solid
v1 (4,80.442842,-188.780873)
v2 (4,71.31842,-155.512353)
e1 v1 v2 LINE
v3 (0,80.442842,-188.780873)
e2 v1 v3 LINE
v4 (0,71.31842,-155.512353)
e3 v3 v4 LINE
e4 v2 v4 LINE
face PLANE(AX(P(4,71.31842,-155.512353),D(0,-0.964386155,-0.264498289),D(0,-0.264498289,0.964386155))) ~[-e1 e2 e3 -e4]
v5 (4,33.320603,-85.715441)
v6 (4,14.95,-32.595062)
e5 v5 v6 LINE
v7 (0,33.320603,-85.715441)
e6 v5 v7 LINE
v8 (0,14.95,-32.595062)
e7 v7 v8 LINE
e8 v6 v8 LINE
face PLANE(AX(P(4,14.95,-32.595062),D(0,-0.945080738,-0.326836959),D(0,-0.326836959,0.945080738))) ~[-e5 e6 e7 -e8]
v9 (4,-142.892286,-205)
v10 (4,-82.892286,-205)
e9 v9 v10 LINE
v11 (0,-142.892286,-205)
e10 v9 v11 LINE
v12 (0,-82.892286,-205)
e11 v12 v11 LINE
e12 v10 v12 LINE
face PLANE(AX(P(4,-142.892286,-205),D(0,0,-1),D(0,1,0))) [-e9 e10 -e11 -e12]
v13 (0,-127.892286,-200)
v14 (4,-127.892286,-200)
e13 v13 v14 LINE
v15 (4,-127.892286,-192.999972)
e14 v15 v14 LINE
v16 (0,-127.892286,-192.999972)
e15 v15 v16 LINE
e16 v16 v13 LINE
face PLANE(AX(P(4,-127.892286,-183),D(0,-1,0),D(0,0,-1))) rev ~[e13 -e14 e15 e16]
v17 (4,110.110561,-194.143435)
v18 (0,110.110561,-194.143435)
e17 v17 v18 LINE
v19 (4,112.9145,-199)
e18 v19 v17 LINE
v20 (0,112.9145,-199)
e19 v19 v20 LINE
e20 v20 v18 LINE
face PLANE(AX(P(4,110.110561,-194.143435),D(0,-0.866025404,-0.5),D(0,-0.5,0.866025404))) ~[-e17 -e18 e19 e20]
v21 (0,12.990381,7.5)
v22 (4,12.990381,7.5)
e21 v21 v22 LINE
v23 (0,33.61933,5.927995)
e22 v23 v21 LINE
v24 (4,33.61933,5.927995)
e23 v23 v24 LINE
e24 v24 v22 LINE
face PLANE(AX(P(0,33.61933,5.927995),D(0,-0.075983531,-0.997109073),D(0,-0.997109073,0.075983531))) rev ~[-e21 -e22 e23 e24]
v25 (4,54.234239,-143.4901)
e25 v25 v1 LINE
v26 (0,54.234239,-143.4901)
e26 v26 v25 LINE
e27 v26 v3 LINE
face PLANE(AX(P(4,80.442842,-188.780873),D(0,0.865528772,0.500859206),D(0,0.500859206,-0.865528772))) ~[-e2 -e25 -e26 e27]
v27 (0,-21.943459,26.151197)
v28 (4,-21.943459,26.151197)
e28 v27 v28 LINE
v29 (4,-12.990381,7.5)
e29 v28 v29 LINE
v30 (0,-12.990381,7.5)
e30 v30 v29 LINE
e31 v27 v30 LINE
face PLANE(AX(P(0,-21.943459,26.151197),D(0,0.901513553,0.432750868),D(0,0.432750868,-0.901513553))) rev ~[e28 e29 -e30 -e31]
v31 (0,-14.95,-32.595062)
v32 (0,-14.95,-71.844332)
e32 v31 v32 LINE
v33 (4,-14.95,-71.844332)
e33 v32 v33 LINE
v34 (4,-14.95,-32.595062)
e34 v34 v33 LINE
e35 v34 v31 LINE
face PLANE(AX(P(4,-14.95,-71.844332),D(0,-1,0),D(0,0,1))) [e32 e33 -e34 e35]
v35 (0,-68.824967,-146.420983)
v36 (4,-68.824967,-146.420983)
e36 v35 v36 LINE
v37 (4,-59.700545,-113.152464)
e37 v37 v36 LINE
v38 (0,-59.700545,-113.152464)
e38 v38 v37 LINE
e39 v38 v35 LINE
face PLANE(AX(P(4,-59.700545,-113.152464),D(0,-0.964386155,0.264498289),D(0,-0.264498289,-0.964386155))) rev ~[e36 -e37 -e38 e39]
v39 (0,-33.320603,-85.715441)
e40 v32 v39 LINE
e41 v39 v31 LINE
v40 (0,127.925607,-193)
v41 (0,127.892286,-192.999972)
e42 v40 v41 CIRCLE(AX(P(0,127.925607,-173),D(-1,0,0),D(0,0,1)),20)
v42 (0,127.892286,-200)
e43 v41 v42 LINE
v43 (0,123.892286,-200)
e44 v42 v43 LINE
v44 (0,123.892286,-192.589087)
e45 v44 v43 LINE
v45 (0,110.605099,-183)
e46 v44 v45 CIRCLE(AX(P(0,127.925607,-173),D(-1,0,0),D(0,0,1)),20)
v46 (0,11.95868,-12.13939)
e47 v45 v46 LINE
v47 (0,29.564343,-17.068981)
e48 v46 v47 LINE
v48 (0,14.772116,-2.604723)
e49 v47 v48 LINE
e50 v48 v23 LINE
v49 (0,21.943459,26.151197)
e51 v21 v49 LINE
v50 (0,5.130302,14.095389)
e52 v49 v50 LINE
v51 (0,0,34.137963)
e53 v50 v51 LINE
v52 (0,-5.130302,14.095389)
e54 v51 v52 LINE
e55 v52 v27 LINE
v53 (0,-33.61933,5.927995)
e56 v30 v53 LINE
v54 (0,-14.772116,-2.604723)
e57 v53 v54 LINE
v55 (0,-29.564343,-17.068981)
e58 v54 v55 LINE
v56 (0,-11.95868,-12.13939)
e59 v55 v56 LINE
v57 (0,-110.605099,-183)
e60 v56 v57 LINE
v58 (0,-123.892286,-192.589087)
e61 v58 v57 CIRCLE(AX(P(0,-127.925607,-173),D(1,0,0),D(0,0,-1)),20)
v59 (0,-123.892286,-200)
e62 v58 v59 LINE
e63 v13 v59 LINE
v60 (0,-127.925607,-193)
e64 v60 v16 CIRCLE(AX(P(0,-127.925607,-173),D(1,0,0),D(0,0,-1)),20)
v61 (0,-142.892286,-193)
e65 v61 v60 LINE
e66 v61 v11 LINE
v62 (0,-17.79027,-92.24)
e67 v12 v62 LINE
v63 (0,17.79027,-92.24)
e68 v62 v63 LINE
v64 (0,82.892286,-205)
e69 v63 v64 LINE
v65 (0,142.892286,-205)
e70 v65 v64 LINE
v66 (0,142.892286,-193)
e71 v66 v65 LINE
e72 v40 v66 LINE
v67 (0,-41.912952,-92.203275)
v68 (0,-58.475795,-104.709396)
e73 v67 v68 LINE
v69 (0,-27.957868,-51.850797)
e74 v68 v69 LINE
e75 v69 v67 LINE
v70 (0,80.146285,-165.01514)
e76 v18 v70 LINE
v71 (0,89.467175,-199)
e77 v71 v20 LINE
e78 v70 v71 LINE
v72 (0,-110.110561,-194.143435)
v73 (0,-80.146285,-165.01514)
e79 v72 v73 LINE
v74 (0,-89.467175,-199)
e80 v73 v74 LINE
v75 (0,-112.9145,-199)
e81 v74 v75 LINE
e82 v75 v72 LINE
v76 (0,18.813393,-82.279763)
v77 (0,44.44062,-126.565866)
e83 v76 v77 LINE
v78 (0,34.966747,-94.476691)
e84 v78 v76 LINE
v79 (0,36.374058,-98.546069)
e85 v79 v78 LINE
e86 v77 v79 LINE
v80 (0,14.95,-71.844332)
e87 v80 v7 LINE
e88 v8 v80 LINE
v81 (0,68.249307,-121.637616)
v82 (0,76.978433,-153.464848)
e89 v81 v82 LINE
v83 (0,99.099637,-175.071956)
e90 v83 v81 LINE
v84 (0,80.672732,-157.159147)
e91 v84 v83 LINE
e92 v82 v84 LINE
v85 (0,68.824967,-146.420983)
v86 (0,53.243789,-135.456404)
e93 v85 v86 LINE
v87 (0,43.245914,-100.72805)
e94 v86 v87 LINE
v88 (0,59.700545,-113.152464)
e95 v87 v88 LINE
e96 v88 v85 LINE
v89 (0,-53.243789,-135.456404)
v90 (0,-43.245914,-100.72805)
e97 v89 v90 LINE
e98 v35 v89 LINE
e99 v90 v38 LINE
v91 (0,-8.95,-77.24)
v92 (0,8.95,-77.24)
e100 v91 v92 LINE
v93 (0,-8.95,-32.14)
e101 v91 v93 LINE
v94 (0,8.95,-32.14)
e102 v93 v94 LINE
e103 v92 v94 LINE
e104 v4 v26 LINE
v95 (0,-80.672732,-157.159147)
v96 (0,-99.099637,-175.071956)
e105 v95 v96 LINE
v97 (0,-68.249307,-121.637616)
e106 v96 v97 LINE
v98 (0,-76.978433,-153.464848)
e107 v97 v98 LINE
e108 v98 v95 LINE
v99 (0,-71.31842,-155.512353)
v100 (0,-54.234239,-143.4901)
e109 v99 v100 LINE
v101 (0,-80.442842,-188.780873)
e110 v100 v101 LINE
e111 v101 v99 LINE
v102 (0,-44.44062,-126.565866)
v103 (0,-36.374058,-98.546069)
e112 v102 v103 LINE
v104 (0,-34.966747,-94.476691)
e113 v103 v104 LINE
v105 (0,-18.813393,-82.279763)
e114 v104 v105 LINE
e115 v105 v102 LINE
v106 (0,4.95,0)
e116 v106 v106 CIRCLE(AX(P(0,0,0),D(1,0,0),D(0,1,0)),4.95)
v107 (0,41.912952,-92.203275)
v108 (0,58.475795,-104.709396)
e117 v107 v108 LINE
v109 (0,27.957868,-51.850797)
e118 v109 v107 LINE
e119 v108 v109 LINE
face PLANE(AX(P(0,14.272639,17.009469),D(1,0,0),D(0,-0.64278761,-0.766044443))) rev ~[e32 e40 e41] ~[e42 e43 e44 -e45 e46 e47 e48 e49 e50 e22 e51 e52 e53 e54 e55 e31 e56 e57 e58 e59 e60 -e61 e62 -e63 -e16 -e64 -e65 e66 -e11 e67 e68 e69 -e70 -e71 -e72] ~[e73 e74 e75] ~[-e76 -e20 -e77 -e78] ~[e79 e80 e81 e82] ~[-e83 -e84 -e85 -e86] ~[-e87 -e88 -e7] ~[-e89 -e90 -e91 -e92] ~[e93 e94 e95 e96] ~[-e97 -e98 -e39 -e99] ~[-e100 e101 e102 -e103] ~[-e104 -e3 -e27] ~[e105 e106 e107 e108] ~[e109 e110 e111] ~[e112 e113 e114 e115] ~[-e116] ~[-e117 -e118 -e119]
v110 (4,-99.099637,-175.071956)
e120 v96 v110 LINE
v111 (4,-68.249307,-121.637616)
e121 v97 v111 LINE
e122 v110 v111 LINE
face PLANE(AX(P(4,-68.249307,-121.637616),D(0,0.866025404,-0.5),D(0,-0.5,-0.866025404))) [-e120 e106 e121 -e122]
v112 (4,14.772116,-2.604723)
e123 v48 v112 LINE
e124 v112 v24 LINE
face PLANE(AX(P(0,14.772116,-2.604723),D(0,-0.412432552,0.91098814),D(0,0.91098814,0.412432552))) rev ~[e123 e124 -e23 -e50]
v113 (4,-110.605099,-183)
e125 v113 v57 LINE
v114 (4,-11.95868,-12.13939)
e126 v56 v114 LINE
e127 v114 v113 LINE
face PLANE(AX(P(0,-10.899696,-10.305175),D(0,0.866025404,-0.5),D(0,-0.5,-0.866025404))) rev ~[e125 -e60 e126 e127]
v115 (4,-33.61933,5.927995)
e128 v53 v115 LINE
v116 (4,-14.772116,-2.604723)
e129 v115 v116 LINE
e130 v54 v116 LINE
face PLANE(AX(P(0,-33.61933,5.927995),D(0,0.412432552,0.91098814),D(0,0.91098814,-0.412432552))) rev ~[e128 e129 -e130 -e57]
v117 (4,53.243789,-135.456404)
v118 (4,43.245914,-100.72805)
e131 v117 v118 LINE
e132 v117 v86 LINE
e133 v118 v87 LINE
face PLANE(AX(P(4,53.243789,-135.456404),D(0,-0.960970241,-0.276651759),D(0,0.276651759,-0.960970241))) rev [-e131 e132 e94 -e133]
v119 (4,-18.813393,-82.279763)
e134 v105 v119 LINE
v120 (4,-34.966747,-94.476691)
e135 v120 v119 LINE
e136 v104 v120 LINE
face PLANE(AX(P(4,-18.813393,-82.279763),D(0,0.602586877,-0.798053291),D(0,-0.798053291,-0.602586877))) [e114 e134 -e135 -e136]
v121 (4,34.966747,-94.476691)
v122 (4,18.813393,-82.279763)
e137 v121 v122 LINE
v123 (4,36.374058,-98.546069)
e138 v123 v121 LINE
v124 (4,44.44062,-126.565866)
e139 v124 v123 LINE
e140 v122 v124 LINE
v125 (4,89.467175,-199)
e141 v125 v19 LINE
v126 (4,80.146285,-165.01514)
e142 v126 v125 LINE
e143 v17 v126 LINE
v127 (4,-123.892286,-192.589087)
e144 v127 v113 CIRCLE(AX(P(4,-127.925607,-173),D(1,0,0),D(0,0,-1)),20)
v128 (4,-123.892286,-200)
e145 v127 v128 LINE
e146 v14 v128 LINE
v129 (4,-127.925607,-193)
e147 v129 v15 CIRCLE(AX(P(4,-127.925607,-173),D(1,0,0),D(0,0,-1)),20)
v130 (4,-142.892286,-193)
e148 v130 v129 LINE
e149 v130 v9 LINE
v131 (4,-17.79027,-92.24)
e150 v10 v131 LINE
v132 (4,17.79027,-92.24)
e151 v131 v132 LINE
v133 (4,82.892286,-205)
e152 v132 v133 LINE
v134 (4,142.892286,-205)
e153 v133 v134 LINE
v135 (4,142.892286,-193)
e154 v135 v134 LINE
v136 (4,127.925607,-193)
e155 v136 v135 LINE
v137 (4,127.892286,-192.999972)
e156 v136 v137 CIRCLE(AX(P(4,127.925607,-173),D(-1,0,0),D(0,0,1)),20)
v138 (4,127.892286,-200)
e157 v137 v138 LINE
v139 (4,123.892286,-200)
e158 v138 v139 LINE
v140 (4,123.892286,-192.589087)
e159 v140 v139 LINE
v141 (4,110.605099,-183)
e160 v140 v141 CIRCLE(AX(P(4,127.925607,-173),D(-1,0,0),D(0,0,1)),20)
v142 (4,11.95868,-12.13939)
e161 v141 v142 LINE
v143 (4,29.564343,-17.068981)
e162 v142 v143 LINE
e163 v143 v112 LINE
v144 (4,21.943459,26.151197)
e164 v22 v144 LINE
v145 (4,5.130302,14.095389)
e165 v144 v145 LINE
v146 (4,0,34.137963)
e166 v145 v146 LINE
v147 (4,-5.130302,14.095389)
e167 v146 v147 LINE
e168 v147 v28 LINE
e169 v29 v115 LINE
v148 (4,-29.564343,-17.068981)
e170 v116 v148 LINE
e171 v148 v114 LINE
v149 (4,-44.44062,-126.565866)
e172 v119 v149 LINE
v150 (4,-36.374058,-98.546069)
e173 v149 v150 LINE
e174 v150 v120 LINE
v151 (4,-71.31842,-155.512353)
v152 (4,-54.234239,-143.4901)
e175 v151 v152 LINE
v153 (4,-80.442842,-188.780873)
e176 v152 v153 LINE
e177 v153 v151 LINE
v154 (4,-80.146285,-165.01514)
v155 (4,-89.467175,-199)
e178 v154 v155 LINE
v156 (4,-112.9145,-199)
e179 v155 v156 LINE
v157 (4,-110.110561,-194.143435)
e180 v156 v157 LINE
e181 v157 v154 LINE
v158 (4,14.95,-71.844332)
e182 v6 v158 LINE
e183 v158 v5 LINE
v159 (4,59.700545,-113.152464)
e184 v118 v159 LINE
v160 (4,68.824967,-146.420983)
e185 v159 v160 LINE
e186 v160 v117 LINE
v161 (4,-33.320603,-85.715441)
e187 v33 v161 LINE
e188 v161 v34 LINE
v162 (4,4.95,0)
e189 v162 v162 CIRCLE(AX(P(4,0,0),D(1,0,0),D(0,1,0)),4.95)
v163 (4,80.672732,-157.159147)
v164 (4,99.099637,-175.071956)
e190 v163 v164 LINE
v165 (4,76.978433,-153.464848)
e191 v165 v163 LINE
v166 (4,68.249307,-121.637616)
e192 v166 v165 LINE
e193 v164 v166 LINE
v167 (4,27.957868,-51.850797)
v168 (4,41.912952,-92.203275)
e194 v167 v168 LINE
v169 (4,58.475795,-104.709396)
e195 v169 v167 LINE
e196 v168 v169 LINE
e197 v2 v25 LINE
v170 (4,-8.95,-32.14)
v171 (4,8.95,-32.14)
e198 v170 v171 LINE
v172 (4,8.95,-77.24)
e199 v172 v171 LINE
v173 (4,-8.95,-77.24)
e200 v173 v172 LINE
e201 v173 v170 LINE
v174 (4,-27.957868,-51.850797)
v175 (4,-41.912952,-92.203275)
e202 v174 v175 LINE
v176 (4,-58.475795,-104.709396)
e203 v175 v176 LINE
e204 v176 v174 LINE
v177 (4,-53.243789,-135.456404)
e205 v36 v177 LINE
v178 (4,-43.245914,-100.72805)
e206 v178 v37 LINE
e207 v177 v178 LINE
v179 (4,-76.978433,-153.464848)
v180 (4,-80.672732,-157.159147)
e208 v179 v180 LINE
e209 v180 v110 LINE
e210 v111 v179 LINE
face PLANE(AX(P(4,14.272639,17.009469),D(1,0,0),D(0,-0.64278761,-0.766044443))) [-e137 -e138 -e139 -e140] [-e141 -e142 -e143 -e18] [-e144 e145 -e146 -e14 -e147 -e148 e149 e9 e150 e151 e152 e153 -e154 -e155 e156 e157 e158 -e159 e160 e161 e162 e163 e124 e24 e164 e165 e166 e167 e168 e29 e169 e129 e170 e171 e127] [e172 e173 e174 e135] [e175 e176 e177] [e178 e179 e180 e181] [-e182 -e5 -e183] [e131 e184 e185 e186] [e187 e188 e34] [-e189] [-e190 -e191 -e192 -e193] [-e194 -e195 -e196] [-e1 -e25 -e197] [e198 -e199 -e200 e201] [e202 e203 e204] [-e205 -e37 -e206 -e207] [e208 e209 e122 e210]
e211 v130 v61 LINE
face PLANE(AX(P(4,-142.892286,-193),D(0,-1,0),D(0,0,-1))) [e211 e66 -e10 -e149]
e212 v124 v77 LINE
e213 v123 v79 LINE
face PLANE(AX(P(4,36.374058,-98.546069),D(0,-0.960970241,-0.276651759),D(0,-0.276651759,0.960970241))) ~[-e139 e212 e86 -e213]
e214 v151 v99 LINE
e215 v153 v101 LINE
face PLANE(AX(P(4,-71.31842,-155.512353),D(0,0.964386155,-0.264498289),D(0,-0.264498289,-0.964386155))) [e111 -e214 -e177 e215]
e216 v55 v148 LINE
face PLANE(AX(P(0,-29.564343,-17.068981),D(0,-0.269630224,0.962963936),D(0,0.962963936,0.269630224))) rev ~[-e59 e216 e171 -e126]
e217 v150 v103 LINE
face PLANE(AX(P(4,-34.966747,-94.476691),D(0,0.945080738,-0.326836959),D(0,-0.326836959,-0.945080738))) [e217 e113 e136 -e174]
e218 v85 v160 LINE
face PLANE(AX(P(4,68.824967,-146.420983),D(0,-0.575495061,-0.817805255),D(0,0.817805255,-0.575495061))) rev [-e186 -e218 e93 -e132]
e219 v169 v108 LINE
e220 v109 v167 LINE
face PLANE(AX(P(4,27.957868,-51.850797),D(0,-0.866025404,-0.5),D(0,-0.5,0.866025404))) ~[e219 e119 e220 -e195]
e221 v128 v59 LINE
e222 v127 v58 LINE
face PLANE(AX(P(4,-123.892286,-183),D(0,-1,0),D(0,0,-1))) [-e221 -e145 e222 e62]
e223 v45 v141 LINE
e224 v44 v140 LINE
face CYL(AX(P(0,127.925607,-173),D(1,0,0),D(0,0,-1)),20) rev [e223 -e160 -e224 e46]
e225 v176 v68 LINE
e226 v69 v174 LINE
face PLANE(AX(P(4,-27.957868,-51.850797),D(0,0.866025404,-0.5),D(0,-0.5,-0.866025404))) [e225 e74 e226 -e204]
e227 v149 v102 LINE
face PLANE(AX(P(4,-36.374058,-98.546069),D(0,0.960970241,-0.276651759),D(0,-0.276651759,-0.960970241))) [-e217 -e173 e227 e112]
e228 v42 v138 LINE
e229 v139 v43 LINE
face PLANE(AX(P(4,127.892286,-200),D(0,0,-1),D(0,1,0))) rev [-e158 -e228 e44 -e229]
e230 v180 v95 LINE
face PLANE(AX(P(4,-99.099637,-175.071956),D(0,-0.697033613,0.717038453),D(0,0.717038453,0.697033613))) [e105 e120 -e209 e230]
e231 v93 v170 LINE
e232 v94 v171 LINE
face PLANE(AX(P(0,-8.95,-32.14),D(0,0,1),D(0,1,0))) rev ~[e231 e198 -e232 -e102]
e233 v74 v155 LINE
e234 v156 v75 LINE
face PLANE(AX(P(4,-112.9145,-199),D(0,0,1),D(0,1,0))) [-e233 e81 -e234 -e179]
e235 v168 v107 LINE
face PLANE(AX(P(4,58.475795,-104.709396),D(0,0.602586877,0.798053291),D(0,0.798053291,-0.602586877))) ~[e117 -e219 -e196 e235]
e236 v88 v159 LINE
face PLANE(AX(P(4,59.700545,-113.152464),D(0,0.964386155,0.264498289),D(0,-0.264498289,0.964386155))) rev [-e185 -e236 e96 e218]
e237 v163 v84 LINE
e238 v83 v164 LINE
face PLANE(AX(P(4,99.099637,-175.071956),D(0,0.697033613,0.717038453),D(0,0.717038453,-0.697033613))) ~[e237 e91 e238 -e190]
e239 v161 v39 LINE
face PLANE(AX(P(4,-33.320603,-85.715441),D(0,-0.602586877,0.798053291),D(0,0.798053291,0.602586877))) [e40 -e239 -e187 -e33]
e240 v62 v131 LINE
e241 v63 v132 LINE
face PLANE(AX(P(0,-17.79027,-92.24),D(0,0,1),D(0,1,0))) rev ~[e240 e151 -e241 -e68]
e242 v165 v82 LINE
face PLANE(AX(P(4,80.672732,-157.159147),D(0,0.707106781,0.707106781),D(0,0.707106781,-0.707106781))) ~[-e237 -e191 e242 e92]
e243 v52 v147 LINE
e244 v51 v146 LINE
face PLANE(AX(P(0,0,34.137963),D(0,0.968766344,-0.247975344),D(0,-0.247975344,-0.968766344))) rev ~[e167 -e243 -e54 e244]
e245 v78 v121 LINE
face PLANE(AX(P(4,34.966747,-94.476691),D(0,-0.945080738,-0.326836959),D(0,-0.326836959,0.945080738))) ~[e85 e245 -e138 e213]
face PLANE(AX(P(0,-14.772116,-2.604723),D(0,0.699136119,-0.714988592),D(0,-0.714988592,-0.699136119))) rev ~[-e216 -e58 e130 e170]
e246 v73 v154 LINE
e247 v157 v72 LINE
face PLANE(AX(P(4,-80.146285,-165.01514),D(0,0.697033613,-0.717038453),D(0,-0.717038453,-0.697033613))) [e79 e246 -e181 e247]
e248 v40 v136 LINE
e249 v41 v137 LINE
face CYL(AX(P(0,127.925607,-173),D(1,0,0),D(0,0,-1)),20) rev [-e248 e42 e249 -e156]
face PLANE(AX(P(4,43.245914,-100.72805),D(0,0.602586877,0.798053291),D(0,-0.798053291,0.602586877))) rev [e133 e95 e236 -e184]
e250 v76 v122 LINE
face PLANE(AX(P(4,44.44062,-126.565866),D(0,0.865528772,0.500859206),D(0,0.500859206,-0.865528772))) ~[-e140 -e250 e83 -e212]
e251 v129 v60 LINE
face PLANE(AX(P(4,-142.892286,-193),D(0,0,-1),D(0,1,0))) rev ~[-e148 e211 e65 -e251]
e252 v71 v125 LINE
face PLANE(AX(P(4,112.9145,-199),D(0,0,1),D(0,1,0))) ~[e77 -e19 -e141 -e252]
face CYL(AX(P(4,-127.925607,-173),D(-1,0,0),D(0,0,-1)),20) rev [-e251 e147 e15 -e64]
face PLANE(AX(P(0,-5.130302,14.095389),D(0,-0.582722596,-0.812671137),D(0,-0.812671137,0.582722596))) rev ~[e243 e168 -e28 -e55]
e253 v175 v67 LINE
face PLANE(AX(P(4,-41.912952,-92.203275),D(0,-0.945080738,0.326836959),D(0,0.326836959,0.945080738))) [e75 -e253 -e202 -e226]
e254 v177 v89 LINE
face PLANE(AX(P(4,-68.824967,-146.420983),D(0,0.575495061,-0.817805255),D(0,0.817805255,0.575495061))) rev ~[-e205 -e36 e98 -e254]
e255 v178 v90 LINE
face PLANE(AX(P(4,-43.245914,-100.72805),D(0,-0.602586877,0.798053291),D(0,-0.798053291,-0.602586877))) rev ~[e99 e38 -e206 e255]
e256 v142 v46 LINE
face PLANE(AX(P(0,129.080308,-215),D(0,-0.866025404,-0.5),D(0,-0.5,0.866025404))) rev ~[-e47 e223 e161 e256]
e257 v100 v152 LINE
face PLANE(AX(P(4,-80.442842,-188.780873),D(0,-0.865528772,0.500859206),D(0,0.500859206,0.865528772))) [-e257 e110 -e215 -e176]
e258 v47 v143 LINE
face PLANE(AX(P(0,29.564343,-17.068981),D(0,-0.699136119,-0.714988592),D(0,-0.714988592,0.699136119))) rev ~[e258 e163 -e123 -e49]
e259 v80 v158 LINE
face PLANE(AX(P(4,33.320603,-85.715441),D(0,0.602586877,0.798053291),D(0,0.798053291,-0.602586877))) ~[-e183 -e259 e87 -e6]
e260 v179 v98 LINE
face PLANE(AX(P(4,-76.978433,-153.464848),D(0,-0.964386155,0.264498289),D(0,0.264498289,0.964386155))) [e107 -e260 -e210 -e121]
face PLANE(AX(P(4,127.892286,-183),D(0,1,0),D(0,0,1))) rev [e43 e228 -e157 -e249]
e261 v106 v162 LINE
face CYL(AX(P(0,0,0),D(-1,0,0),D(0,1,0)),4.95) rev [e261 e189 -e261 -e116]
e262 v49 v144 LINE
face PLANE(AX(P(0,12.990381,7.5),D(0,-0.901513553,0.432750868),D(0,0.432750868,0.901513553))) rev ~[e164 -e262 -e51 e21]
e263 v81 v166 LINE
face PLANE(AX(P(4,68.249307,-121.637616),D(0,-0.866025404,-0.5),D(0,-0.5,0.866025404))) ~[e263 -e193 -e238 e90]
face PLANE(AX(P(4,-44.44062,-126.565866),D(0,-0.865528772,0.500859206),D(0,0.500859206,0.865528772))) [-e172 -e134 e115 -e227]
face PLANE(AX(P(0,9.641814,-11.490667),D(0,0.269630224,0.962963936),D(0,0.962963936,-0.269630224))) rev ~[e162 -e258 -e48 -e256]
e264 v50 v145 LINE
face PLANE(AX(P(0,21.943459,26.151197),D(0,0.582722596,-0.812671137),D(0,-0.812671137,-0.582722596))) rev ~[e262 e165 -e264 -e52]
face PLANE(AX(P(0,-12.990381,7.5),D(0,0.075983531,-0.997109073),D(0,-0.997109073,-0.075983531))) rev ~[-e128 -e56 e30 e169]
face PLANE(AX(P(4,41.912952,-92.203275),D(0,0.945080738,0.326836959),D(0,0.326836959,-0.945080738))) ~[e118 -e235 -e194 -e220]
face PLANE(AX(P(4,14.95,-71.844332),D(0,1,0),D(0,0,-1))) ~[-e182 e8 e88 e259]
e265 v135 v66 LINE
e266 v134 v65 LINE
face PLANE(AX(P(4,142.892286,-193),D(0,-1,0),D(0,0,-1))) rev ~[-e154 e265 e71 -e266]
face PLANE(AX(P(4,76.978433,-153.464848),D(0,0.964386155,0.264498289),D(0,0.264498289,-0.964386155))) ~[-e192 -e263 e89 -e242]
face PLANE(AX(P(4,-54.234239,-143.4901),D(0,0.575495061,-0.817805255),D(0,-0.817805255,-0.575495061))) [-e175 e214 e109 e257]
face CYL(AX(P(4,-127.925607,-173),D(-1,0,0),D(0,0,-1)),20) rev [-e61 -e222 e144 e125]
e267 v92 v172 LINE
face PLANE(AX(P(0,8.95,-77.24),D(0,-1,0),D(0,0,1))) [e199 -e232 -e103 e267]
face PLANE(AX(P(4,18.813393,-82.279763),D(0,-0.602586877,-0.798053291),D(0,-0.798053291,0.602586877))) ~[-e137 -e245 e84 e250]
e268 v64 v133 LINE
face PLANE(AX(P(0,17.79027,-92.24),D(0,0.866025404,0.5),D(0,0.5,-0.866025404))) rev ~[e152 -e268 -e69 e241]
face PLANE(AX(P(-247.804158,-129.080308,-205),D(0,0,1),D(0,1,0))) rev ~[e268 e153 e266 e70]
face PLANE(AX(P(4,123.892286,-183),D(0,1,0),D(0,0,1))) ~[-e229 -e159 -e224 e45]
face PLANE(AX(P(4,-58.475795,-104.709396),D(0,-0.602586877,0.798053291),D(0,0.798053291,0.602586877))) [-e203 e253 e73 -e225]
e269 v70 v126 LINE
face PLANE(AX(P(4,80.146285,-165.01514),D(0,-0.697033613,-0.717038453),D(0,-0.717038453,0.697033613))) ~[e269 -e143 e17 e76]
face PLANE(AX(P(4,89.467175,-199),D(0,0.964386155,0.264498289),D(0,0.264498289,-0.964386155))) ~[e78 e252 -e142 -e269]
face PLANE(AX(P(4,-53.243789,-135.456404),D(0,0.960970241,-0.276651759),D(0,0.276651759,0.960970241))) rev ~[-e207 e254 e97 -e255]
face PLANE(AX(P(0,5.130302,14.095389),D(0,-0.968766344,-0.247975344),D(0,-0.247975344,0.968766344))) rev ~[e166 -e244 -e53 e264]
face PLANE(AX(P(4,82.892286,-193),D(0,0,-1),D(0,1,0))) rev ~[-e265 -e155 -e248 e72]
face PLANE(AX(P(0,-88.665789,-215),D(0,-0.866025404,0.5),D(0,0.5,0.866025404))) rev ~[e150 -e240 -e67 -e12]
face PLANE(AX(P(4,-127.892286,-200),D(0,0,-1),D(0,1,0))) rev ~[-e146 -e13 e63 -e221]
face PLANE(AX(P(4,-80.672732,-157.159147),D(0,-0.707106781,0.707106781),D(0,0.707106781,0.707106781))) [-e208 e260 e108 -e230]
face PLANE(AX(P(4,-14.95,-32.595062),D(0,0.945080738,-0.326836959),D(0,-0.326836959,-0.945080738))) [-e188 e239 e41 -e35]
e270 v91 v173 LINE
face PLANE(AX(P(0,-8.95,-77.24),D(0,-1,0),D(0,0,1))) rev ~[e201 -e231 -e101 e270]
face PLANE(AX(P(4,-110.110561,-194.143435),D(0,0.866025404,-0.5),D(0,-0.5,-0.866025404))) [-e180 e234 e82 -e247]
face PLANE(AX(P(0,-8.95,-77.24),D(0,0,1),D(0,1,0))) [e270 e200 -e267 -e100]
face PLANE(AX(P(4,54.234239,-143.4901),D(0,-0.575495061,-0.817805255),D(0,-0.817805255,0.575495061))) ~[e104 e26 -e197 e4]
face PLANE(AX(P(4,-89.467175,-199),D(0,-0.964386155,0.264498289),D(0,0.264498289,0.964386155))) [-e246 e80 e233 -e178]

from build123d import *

# Parameters (mm, degrees)
SKETCH1_R               = 4.95
SKETCH1_W               = 17.9
SKETCH1_H               = 45.1
BOSS_EXTRUDE1_DEPTH     = 4
CUT_EXTRUDE1_DEPTH      = 251.804158421
CUT_EXTRUDE1_DEPTH_BACK = 251.804158421
SKETCH2_W               = 258.160615752
SKETCH2_H               = 10
SKETCH3_W               = 12
SKETCH3_H               = 60
BOSS_EXTRUDE2_DEPTH     = 4
FILLET1_R               = 20
BOSS_EXTRUDE3_START     = -4
BOSS_EXTRUDE3_DEPTH     = 4
CIRPATTERN1_COUNT       = 9
SKETCH5_W               = 17
SKETCH5_H               = 4
CUT_EXTRUDE2_DEPTH      = 250.918397673
CUT_EXTRUDE3_DEPTH      = 250.918397673


with BuildPart() as part:
    # Sketch1 → Boss-Extrude1 (new body)
    with BuildSketch(Plane.YZ):
        with BuildLine():
            Line((-10.899695646, -10.305175148), (-129.080307876, -215))
            Line((-129.080307876, -215), (-88.665789032, -215))
            Line((-88.665789032, -215), (-17.790269987, -92.24))
            Line((-17.790269987, -92.24), (17.790269987, -92.24))
            Line((17.790269987, -92.24), (88.665789032, -215))
            Line((88.665789032, -215), (129.080307876, -215))
            Line((129.080307876, -215), (10.899695646, -10.305175148))
            ThreePointArc((10.899695646, -10.305175148), (0, 15), (-10.899695646, -10.305175148))
        make_face()
        Circle(SKETCH1_R, mode=Mode.SUBTRACT)
        with Locations((0, -54.69)):
            Rectangle(SKETCH1_W, SKETCH1_H, mode=Mode.SUBTRACT)
    extrude(amount=BOSS_EXTRUDE1_DEPTH)

    # Sketch2 → Cut-Extrude1 (cut, two sides: drawn at the far end of the back side and taken through both)
    with BuildSketch(Plane.YZ.offset(4).offset(-CUT_EXTRUDE1_DEPTH_BACK)):
        with Locations((0, -210)):
            Rectangle(SKETCH2_W, SKETCH2_H)
    extrude(amount=CUT_EXTRUDE1_DEPTH + CUT_EXTRUDE1_DEPTH_BACK, mode=Mode.SUBTRACT)

    # Sketch3 → Boss-Extrude2 (add)
    with BuildSketch(Plane(origin=(4, 0, 0), x_dir=(0, 0, -1), z_dir=(1, 0, 0))):
        with Locations((199, -112.892286341)):
            Rectangle(SKETCH3_W, SKETCH3_H)
        with Locations((199, 112.892286341)):
            Rectangle(SKETCH3_W, SKETCH3_H)
    extrude(amount=-BOSS_EXTRUDE2_DEPTH)

    # Fillet1
    fillet1_edges = [part.edges().sort_by_distance(p)[0] for p in [
        (2, 116.378601954, -193),
        (2, -116.378601954, -193),
    ]]
    fillet(fillet1_edges, radius=FILLET1_R)

    # Sketch4 → Boss-Extrude3 (add)
    with BuildSketch(Plane(origin=(4, 0, 0), x_dir=(0, 0, -1), z_dir=(1, 0, 0)).offset(BOSS_EXTRUDE3_START)):
        with BuildLine():
            Line((-34.137962787, 0), (-14.095389312, -5.13030215))
            ThreePointArc((-14.095389312, -5.13030215), (-15, 0), (-14.095389312, 5.13030215))
            Line((-14.095389312, 5.13030215), (-34.137962787, 0))
        make_face()
    boss_extrude3 = extrude(amount=BOSS_EXTRUDE3_DEPTH)

    # CirPattern1: Boss-Extrude3 ×9 about axis
    cirpattern1_axis = Axis((-0.2, 0, 0), (1, 0, 0))
    for i in range(1, CIRPATTERN1_COUNT):
        add(boss_extrude3.rotate(cirpattern1_axis, i * 360 / CIRPATTERN1_COUNT))

    # Sketch5 → Cut-Extrude2 (cut, symmetric)
    with BuildSketch(Plane(origin=(4, 0, 0), x_dir=(0, 0, -1), z_dir=(1, 0, 0))):
        with Locations((191.5, -125.892286341)):
            Rectangle(SKETCH5_W, SKETCH5_H)
    cut_extrude2 = extrude(amount=CUT_EXTRUDE2_DEPTH, both=True, mode=Mode.SUBTRACT)

    # Mirror1: Cut-Extrude2 across plane
    add(cut_extrude2.mirror(Plane.ZX), mode=Mode.SUBTRACT)

    # Sketch6 → Cut-Extrude3 (cut, symmetric)
    with BuildSketch(Plane.YZ.offset(4)):
        Polygon((-44.440620352, -126.565865893), (-18.81339339, -82.279763058), (-34.966746745, -94.476691336), (-36.374058239, -98.54606889), align=None)
        Polygon((-33.320603167, -85.715441185), (-14.95, -71.844331927), (-14.95, -32.59506202), align=None)
        Polygon((-80.442842118, -188.780872527), (-54.234238638, -143.490099921), (-71.318419935, -155.512353255), align=None)
        Polygon((-41.912952433, -92.203274728), (-27.957868434, -51.850797102), (-58.475794969, -104.709396402), align=None)
        Polygon((-112.914500338, -199), (-89.467175046, -199), (-80.146284863, -165.015139537), (-110.110561046, -194.143434684), align=None)
        Polygon((-76.978433226, -153.464848336), (-68.249306861, -121.637615567), (-99.099637478, -175.071955626), (-80.672732205, -157.159147315), align=None)
        Polygon((-43.245914121, -100.728050325), (-59.700544534, -113.152464165), (-68.824966717, -146.420983438), (-53.243788825, -135.456403713), align=None)
    cut_extrude3 = extrude(amount=CUT_EXTRUDE3_DEPTH, both=True, mode=Mode.SUBTRACT)

    # Mirror2: Cut-Extrude3 across plane
    add(cut_extrude3.mirror(Plane.ZX), mode=Mode.SUBTRACT)


solid = part.part
